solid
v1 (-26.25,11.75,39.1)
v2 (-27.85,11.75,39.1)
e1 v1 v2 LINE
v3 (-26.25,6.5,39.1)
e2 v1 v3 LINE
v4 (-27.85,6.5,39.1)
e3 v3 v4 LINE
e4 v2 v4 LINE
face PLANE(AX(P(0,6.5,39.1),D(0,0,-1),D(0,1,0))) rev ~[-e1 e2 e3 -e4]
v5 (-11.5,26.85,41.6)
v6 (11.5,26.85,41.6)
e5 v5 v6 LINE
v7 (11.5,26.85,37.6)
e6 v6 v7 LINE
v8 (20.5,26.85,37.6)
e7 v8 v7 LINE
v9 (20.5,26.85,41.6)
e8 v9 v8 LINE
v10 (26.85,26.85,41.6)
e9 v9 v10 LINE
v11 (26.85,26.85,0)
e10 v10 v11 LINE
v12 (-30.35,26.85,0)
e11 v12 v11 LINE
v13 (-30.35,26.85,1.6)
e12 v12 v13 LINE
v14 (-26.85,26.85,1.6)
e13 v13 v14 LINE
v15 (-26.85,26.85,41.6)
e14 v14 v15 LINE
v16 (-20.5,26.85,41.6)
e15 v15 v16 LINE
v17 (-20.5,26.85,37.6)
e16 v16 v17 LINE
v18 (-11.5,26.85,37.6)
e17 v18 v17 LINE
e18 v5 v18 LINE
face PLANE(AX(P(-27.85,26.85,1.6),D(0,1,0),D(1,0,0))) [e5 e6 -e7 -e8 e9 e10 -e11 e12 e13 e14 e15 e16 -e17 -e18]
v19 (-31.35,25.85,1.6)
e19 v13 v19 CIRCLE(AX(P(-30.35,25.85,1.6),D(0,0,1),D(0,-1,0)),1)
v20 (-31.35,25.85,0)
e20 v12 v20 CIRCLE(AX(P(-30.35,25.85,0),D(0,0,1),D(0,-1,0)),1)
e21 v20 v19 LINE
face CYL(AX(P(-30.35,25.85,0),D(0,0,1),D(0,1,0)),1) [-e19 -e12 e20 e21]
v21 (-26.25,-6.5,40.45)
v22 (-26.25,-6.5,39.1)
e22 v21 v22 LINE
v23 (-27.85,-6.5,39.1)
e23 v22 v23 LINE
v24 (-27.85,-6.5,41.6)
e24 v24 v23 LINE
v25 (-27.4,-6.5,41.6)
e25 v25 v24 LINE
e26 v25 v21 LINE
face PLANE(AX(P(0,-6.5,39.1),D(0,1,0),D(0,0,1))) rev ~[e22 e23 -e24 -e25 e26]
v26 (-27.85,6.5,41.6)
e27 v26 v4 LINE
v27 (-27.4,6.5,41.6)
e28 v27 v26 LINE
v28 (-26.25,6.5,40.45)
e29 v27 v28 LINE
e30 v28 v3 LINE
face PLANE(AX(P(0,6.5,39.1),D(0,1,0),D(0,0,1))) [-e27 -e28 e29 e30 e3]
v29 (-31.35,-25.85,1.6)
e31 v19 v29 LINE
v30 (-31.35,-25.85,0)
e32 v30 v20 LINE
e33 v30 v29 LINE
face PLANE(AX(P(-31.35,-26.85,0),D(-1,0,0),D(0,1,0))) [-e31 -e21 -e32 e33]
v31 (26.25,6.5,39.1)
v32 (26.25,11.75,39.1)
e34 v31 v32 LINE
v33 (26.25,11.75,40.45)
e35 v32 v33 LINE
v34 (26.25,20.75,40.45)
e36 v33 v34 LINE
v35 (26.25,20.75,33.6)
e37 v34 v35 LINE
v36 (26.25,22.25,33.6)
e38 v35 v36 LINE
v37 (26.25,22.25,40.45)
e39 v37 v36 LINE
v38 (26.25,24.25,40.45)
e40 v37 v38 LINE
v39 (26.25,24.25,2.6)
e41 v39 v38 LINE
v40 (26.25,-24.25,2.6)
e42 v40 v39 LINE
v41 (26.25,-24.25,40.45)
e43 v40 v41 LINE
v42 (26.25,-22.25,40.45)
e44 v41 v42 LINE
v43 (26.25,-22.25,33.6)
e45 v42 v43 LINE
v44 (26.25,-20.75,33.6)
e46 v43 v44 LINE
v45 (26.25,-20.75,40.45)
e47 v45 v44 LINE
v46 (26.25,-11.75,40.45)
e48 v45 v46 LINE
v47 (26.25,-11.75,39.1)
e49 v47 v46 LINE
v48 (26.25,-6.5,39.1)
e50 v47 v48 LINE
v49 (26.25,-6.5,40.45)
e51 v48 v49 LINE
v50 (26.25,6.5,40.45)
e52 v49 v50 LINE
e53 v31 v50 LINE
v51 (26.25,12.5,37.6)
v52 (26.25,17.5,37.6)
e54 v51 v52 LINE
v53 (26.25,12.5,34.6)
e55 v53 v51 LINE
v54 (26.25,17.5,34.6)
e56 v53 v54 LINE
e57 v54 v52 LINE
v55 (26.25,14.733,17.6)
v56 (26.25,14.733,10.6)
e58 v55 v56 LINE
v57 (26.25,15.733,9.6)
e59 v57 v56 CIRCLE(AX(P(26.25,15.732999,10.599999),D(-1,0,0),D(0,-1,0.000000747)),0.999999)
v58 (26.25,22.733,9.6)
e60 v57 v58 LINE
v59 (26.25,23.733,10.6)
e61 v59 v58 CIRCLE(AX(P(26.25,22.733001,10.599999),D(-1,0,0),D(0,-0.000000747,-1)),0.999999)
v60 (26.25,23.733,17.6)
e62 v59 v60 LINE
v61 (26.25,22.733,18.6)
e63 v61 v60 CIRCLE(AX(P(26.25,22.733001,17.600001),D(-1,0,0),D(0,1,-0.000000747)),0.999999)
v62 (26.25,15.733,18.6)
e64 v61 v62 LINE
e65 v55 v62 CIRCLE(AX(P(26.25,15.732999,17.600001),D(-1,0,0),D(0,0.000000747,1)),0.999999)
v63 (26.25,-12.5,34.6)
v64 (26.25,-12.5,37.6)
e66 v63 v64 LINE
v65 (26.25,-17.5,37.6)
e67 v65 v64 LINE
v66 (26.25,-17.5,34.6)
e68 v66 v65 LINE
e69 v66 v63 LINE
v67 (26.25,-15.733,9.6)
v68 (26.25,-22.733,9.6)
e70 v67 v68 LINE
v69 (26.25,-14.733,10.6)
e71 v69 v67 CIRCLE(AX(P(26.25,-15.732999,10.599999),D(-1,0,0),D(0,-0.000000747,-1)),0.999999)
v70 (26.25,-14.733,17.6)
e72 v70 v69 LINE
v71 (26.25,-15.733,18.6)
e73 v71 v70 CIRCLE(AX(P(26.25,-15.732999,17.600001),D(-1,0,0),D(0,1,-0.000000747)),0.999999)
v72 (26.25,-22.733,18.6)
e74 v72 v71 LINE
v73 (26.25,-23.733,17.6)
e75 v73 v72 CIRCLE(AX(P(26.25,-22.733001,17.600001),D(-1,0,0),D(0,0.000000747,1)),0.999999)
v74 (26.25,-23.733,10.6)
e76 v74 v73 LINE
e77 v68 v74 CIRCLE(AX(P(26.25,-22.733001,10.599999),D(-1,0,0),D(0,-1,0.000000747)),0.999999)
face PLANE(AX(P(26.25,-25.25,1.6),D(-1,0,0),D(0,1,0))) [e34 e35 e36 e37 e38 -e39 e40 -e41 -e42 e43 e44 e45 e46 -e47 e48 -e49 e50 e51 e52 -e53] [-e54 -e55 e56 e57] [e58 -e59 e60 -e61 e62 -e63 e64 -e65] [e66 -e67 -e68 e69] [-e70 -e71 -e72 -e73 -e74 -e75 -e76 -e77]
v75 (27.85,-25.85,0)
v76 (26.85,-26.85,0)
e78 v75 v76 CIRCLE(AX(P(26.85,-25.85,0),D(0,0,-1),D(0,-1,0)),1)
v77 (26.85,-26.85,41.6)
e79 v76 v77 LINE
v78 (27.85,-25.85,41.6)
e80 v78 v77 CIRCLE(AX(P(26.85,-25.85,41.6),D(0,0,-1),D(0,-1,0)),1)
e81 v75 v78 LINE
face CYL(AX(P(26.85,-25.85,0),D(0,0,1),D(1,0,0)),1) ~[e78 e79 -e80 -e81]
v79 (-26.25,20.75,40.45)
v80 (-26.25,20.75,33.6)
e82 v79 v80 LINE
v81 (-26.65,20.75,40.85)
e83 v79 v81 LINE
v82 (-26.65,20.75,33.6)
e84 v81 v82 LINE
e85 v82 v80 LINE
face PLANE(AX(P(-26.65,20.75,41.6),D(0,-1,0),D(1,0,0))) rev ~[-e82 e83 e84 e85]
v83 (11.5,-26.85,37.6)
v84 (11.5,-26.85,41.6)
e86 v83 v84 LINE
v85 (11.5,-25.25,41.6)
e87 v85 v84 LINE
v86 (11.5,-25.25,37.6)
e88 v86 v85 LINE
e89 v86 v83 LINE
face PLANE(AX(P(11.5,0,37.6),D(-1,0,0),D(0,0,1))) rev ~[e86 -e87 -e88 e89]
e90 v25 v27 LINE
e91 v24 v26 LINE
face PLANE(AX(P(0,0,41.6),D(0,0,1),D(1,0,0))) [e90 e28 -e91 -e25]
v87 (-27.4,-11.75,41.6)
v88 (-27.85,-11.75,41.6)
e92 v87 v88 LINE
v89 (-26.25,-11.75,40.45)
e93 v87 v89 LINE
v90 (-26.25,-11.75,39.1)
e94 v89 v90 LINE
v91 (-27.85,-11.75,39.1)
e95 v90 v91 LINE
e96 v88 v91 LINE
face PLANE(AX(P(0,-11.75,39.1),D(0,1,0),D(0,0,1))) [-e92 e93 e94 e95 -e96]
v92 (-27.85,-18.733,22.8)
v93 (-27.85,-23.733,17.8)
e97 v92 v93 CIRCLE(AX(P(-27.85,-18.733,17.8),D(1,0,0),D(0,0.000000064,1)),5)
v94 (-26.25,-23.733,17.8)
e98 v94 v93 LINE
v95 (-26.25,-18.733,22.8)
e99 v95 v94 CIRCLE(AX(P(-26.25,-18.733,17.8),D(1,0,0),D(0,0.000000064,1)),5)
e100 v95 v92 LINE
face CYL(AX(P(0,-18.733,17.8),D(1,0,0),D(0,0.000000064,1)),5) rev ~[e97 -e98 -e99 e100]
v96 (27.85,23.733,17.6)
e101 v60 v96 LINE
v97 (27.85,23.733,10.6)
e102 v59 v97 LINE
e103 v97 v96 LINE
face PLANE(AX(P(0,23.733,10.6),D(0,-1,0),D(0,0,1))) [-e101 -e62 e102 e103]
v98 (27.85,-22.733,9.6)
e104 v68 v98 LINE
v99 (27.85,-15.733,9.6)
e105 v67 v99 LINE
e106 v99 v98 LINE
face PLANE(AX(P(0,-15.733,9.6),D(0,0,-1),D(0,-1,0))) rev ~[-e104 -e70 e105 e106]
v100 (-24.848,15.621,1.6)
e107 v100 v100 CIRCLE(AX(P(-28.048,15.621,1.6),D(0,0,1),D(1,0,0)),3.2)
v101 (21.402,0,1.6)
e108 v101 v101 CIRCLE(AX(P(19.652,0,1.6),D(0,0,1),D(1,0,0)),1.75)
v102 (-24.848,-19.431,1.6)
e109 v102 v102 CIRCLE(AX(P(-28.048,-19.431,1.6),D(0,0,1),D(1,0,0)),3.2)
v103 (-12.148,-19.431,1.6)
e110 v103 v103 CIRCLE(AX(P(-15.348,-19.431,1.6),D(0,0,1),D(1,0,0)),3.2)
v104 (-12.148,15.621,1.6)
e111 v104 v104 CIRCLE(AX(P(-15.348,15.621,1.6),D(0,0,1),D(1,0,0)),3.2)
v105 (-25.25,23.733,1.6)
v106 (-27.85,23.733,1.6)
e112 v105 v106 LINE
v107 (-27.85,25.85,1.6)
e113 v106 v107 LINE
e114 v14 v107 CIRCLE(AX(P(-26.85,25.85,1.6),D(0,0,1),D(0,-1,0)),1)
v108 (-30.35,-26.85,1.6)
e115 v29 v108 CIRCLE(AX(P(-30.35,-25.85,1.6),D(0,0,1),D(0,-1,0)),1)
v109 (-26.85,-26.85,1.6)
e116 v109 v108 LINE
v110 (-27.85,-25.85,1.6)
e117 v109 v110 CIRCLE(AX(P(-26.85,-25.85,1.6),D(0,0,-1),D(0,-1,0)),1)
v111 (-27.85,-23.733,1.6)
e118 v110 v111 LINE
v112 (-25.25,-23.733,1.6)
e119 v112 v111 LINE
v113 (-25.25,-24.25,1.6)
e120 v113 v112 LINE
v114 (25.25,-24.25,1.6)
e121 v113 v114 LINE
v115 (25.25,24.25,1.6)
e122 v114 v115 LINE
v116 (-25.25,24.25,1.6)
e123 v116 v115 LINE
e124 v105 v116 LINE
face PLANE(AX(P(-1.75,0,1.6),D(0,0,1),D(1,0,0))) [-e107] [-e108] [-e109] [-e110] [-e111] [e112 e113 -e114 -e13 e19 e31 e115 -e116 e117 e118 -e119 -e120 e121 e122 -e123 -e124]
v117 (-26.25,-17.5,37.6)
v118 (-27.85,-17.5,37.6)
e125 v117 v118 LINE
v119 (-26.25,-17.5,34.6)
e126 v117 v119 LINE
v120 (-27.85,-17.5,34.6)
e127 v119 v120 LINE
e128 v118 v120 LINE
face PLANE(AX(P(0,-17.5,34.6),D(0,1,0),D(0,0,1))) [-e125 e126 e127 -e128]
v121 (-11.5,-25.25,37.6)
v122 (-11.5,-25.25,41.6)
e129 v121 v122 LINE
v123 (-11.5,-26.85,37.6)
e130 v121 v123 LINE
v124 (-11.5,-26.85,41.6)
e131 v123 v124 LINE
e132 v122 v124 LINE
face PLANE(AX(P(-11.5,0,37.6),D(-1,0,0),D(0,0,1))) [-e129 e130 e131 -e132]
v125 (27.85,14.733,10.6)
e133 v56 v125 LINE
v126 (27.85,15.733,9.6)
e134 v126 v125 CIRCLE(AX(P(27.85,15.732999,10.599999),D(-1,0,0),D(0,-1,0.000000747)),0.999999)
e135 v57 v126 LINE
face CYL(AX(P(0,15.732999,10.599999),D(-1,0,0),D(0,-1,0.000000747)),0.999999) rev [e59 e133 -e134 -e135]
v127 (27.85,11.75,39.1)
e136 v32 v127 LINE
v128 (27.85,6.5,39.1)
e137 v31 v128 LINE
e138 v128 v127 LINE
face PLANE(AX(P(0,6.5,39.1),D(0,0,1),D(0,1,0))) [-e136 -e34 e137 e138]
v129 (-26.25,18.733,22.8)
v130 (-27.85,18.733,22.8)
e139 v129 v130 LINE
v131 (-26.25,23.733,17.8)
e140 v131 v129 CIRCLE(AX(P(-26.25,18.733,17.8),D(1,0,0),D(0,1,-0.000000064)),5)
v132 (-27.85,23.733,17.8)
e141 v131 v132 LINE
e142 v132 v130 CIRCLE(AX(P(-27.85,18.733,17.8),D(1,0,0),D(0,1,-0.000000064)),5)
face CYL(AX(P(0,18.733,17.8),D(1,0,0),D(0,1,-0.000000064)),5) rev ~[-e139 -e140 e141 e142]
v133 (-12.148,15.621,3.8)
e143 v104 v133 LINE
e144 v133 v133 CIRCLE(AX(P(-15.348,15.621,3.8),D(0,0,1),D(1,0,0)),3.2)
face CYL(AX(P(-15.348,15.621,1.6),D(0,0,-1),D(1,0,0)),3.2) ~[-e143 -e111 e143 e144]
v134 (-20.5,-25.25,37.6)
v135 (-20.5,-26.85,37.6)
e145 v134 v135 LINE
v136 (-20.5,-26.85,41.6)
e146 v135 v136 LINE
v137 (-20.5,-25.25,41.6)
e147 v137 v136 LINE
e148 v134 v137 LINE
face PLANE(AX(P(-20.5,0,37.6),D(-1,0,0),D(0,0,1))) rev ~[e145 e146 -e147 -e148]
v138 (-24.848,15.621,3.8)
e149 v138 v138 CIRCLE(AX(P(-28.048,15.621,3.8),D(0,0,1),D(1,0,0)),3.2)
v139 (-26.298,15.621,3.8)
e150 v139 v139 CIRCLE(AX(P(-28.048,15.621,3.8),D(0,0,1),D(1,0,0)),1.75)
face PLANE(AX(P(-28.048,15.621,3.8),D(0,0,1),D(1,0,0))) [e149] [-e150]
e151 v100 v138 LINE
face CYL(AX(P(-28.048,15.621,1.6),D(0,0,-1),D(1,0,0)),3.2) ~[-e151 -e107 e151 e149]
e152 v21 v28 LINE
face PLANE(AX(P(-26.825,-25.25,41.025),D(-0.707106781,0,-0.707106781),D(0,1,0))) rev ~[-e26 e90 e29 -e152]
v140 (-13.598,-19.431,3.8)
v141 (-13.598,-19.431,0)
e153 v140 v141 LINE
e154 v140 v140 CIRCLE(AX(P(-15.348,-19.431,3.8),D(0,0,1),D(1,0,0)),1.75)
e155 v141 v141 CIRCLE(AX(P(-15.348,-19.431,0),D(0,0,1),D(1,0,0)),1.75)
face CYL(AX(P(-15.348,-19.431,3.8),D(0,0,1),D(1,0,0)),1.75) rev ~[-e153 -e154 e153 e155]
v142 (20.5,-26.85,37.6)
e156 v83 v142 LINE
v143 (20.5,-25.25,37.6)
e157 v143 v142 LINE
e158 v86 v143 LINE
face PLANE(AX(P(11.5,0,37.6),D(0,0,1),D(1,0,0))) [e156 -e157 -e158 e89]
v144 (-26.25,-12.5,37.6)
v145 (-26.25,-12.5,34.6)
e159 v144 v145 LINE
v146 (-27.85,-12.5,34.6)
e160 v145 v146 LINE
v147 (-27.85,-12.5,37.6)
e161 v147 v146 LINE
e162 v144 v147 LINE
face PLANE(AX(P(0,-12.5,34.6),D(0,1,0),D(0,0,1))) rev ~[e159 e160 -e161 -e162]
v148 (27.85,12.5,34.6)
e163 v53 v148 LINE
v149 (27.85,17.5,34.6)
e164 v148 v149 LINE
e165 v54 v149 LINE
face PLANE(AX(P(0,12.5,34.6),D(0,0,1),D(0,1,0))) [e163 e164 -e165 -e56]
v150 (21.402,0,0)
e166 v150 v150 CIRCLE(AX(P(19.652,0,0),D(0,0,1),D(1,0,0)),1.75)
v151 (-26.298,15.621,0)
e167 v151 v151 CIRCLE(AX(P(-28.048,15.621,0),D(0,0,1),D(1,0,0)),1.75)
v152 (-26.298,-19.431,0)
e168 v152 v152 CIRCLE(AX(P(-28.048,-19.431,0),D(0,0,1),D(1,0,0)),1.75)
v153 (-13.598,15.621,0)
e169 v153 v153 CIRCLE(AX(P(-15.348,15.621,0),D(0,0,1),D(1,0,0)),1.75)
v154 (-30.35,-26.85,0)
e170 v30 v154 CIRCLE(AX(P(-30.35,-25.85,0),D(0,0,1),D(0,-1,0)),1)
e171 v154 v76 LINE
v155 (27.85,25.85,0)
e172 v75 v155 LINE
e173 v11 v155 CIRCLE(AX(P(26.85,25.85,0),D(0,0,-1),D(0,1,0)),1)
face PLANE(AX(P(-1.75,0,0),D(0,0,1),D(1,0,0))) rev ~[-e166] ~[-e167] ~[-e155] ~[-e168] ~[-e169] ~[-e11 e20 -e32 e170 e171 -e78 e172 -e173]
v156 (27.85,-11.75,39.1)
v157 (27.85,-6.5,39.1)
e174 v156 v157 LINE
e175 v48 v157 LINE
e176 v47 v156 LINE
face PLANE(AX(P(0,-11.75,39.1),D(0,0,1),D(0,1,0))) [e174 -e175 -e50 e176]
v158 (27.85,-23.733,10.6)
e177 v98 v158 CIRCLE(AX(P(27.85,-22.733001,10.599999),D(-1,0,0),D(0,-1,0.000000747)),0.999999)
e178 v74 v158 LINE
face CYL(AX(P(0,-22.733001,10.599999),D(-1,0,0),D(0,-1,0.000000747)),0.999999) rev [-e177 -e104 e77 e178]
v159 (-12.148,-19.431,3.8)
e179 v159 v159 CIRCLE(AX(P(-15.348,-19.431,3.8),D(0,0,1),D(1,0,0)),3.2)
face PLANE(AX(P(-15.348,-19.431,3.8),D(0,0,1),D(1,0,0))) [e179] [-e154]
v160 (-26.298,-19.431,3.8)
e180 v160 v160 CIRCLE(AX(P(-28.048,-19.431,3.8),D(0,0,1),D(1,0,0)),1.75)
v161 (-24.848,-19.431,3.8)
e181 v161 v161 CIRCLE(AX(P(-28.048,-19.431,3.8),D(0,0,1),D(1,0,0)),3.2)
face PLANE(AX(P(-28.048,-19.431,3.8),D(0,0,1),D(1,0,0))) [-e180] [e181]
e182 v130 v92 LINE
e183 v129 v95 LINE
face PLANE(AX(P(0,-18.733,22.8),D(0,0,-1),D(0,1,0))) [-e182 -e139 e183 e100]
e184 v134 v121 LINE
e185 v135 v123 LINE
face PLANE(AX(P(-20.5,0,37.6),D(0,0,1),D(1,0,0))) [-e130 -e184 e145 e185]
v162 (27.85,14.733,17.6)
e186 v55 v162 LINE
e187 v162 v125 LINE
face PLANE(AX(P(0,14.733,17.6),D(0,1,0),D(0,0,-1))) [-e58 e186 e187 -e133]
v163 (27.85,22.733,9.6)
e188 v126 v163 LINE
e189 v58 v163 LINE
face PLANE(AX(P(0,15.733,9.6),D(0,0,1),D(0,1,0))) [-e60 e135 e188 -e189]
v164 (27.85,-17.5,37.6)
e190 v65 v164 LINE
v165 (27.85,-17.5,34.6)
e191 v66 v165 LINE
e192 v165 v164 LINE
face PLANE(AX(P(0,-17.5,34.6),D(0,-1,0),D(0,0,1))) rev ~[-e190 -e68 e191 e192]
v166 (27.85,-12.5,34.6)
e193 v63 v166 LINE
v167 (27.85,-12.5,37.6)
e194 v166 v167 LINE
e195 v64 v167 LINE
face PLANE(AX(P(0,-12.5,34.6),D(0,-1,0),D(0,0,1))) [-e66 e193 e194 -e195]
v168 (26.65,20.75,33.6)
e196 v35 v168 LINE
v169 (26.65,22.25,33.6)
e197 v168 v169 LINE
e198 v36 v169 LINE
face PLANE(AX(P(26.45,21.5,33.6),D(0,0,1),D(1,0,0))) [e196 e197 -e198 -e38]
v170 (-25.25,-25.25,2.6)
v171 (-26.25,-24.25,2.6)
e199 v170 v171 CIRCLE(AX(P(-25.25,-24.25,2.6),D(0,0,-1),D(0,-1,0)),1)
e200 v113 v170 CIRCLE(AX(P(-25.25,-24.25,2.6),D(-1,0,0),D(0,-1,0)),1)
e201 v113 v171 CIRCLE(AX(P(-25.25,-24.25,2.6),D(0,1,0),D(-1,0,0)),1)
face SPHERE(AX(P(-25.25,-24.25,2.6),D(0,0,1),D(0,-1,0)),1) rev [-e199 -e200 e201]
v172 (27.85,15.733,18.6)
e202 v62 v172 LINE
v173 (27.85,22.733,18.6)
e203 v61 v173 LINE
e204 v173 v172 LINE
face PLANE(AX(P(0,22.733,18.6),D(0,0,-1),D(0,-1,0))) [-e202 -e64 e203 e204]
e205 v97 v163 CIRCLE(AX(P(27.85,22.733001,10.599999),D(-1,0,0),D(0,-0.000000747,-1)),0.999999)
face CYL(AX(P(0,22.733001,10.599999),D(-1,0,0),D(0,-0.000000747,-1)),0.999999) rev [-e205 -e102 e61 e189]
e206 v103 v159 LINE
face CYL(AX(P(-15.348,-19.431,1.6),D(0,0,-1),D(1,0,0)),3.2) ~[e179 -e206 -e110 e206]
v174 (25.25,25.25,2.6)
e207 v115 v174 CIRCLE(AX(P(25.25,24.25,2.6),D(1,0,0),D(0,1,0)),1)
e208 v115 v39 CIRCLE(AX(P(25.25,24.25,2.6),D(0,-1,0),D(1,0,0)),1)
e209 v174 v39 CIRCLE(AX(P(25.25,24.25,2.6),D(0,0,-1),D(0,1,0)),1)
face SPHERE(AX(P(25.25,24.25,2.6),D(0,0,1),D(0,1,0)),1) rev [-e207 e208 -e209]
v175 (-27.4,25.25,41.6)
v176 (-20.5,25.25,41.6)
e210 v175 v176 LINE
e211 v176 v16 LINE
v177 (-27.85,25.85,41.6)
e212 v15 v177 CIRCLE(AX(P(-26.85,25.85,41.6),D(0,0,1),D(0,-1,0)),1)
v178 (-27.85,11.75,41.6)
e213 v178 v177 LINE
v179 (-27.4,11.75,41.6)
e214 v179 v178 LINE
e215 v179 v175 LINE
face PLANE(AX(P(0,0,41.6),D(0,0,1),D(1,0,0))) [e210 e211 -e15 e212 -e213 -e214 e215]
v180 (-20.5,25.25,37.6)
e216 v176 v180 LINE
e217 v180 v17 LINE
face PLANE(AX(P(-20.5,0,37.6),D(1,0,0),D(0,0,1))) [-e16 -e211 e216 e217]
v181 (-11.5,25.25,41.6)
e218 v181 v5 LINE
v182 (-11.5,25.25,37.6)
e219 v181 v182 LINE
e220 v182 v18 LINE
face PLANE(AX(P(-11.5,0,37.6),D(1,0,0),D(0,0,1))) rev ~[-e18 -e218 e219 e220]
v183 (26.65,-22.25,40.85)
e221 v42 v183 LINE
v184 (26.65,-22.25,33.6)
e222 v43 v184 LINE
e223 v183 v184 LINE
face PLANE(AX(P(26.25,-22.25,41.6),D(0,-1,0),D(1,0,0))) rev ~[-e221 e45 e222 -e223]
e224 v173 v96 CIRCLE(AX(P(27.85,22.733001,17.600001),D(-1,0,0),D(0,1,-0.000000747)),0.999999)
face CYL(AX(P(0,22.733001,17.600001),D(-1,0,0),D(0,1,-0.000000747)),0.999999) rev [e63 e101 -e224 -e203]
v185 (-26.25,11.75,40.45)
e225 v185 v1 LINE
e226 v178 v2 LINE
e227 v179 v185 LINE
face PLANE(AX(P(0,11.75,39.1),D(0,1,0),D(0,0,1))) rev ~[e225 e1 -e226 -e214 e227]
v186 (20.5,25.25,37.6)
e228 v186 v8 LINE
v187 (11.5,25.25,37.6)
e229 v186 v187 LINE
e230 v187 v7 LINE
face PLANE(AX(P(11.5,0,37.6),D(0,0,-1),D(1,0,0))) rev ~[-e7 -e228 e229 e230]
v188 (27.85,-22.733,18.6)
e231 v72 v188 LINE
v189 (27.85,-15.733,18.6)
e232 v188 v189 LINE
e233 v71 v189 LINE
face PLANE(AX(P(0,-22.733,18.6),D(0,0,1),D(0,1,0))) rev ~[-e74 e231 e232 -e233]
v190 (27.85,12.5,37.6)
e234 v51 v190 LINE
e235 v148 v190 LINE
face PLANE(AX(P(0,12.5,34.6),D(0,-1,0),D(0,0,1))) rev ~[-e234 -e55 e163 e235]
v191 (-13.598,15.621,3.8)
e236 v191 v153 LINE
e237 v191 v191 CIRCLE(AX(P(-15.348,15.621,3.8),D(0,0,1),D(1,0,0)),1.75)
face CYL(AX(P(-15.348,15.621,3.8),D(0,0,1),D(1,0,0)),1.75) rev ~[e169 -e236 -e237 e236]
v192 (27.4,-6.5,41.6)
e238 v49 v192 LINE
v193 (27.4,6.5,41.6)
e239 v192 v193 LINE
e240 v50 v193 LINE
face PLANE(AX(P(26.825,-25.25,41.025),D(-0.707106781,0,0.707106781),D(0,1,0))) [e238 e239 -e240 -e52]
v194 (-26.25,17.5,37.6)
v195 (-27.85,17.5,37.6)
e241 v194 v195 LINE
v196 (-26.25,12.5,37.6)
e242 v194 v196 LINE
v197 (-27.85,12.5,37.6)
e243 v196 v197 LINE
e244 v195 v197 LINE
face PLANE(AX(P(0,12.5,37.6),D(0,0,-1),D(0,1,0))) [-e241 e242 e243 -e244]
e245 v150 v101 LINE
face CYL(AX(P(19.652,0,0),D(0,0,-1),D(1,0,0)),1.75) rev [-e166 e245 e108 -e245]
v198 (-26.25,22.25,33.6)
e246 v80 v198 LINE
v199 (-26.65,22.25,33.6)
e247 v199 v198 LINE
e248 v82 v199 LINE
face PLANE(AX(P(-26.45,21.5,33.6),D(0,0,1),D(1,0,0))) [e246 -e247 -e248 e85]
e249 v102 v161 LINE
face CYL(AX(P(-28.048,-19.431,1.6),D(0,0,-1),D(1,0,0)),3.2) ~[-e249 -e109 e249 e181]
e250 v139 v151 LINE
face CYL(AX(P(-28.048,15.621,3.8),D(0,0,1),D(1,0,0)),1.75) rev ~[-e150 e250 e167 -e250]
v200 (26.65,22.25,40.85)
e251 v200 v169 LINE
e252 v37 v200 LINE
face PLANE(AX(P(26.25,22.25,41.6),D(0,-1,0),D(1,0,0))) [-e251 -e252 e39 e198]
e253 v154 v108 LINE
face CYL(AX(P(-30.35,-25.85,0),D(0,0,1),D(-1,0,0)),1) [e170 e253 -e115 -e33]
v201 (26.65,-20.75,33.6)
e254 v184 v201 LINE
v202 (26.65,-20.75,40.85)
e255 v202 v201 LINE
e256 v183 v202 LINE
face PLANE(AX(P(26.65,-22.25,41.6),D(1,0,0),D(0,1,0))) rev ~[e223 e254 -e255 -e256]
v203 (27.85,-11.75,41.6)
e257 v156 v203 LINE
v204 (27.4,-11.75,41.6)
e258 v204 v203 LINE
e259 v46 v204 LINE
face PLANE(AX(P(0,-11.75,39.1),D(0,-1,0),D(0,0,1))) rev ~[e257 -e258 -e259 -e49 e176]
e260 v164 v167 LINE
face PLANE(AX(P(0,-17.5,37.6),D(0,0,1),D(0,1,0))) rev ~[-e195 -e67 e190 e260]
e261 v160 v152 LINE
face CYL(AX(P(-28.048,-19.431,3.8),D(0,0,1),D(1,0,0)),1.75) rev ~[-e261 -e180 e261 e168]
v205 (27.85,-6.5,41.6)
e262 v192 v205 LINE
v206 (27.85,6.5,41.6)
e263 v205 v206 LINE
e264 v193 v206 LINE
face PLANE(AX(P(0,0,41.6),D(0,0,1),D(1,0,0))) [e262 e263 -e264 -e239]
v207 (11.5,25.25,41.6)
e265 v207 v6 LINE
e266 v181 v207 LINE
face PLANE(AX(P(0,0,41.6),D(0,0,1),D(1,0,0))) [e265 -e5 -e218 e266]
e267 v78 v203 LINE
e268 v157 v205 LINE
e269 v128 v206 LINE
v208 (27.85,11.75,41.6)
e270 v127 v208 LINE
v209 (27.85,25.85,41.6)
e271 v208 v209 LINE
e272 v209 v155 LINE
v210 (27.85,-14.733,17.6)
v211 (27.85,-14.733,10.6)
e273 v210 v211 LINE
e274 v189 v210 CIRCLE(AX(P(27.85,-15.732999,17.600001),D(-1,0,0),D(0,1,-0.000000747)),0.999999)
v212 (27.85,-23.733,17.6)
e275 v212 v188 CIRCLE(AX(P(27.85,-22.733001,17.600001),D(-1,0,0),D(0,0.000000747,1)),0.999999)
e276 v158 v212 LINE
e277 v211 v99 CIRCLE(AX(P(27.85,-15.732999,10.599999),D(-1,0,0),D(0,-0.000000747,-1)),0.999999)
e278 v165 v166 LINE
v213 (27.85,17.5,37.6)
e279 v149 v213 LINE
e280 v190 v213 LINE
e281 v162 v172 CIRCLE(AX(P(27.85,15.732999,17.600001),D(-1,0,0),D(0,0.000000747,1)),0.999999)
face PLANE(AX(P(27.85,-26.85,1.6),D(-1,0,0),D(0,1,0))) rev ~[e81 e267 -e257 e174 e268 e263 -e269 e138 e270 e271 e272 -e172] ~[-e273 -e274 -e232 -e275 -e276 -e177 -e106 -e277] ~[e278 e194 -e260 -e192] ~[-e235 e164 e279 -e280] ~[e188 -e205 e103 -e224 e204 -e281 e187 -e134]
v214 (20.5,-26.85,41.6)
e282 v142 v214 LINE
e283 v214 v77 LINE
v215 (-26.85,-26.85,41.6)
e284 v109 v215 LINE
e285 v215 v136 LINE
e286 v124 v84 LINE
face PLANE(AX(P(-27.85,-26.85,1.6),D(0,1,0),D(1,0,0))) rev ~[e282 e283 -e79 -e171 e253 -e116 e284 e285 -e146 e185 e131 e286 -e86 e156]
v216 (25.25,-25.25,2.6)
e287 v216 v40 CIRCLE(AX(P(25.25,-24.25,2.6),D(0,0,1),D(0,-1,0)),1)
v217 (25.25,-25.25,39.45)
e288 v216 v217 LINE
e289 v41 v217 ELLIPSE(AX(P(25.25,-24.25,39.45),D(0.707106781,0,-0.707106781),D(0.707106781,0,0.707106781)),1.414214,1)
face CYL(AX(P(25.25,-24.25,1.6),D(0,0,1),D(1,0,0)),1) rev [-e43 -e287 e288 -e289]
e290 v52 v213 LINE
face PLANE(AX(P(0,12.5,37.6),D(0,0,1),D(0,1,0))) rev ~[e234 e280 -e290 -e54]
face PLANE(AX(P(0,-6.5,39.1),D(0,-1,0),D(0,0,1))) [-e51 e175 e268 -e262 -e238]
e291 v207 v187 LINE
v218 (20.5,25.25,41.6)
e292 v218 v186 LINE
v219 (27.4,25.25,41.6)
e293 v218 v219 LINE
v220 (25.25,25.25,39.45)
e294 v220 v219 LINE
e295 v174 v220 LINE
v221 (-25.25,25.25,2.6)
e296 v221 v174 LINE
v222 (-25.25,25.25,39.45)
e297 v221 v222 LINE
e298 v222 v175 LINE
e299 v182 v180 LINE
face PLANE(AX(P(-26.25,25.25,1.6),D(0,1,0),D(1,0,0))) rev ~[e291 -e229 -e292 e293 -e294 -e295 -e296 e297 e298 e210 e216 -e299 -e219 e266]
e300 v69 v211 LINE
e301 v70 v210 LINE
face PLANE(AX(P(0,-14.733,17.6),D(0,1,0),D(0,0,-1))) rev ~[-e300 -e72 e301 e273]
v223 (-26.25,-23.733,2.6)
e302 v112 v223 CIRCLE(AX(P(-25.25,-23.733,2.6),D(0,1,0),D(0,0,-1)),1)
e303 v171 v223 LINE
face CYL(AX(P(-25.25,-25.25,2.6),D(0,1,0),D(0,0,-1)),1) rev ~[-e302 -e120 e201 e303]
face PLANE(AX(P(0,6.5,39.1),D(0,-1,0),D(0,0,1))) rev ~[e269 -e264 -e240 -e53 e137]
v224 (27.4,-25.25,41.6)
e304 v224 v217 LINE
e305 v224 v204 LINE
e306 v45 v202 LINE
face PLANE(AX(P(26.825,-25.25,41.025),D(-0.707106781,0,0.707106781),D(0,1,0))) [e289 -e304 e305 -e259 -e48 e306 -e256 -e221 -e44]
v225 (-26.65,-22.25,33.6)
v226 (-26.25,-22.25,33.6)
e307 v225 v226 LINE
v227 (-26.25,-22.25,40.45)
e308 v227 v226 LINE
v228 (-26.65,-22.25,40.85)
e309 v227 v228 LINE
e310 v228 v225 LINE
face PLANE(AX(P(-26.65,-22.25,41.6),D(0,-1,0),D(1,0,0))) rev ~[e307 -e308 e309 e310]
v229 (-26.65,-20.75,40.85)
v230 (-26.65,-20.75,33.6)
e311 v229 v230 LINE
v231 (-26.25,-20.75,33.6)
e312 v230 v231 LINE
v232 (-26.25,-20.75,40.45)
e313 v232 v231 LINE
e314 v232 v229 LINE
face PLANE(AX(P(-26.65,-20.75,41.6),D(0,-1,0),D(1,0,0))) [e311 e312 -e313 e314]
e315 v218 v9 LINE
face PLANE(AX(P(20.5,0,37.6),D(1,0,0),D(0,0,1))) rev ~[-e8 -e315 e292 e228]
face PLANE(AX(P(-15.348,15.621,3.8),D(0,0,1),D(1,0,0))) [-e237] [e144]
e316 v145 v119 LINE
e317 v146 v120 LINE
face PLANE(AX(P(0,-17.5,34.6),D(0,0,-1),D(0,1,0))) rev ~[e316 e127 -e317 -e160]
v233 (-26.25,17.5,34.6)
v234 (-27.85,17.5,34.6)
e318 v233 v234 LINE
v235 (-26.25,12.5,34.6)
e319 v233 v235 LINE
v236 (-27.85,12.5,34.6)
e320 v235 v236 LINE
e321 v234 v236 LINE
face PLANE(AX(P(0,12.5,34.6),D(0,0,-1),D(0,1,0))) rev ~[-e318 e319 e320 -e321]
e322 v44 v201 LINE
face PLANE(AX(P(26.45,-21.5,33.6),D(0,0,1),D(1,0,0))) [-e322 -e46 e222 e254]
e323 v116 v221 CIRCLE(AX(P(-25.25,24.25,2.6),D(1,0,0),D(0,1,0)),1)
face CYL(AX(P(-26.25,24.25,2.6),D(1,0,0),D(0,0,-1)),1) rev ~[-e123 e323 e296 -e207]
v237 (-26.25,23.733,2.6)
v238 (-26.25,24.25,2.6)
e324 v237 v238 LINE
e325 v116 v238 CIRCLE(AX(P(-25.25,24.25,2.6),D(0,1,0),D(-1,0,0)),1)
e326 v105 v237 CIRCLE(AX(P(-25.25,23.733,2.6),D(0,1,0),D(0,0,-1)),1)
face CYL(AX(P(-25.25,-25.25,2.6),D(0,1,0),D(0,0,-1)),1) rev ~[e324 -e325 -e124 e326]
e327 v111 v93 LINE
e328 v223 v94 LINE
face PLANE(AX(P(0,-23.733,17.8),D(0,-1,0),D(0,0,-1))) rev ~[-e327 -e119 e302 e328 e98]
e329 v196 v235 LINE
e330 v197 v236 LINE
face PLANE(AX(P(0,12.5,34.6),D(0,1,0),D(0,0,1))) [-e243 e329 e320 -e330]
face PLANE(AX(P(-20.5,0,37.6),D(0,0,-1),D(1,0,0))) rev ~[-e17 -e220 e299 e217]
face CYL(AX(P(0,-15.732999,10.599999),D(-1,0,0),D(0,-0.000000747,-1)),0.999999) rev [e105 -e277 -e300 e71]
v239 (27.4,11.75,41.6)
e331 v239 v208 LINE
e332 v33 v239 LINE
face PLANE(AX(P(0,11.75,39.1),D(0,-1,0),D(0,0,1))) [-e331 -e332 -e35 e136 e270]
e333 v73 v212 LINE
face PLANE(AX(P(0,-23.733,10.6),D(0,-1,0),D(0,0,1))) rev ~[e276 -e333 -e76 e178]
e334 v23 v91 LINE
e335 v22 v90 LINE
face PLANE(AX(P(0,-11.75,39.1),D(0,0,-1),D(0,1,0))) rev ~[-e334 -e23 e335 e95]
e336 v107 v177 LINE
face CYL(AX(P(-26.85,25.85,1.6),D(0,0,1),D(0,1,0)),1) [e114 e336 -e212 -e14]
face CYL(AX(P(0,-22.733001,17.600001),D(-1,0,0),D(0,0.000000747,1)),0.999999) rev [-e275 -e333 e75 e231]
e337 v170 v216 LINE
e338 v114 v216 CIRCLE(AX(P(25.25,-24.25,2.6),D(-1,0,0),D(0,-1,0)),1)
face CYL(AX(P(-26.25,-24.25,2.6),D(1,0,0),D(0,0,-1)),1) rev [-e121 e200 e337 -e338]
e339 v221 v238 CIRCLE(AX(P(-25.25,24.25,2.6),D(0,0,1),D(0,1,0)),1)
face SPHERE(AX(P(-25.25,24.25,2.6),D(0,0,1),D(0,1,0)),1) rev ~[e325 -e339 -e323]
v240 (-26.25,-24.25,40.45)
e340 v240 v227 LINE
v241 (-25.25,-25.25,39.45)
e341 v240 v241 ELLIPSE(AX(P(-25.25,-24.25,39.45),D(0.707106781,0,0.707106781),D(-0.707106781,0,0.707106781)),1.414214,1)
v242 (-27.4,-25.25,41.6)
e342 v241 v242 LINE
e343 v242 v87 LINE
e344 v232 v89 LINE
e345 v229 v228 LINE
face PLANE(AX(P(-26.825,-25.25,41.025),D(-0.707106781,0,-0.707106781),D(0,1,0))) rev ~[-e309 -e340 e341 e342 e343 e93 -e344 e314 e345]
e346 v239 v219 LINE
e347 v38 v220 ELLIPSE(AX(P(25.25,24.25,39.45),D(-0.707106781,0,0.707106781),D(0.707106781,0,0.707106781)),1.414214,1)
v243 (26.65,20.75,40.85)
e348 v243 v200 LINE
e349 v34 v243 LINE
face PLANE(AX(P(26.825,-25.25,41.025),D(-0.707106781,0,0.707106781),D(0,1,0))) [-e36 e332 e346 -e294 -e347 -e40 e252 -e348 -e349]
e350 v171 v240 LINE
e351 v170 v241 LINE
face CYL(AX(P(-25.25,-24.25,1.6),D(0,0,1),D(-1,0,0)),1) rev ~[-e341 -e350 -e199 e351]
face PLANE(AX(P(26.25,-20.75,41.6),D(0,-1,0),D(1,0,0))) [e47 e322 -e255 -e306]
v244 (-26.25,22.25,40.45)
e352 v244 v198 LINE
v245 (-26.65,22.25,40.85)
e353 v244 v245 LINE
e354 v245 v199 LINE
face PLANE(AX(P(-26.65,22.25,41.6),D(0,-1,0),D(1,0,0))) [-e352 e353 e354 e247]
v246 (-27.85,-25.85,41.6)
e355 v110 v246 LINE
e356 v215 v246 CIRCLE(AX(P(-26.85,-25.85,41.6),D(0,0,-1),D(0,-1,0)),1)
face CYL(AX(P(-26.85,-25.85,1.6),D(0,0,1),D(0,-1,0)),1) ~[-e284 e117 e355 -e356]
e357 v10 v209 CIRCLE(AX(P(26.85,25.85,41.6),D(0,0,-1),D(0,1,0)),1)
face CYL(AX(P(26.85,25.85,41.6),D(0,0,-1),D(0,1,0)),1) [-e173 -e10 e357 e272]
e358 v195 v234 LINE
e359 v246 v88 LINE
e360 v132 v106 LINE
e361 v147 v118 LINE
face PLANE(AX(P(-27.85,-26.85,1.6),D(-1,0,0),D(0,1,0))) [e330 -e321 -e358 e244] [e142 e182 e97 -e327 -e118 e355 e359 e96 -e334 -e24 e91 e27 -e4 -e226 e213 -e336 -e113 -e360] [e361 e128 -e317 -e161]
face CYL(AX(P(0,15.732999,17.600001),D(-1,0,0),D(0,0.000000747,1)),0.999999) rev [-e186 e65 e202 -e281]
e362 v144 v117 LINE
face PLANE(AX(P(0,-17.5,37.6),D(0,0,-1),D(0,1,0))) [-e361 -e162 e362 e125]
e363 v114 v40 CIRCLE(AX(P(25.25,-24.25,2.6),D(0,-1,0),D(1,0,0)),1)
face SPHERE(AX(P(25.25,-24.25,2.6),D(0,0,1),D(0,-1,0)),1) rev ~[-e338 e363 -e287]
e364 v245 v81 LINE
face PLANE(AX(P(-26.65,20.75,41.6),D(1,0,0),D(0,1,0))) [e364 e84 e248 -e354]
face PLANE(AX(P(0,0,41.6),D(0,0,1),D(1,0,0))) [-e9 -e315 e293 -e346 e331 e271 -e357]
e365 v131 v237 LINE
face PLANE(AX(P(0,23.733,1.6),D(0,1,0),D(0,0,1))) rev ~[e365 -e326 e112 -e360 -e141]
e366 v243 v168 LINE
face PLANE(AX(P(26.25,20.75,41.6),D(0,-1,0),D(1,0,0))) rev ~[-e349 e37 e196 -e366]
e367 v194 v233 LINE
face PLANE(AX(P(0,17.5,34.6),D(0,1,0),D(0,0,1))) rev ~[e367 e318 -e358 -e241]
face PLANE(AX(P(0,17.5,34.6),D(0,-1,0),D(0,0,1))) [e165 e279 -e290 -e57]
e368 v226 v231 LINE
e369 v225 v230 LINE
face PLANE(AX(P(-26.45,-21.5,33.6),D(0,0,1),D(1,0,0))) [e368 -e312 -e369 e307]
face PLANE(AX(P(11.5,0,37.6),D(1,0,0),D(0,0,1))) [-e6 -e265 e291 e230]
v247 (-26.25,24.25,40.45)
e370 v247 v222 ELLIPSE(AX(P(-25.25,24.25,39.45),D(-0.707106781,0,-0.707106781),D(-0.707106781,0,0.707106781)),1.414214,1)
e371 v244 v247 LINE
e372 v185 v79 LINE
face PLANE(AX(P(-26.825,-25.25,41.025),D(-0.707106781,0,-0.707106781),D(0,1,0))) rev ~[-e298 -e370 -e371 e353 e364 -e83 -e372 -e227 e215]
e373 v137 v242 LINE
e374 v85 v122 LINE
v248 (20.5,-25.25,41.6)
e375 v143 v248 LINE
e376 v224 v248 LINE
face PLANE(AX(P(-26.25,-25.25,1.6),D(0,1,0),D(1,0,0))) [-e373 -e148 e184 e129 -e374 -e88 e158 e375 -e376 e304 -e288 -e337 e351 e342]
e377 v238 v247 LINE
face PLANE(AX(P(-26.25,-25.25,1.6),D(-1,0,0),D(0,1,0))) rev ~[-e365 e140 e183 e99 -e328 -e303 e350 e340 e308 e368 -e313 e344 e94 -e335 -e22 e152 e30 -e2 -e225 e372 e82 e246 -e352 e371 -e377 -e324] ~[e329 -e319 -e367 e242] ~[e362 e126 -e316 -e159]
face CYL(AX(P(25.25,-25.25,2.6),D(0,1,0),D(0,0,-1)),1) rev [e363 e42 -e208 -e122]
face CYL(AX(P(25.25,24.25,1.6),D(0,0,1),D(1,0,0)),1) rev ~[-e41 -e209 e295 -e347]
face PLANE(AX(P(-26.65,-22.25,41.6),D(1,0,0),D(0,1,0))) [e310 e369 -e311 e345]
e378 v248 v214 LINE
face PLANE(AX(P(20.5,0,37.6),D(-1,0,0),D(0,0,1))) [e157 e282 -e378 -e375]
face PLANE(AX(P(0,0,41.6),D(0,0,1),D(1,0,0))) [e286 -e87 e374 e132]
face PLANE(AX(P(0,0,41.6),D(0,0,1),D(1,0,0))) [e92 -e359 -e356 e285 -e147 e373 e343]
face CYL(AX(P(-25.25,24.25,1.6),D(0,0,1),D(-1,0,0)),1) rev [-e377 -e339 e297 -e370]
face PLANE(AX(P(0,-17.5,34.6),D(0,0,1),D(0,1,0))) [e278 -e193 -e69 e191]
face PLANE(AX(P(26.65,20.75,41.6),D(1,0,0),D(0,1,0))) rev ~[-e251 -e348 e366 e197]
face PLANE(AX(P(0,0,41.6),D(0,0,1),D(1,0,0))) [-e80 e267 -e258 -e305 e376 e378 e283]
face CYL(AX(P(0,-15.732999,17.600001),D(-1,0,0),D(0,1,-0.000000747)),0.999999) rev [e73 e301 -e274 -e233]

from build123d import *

# Parameters (mm, degrees)
SKETCH034_W          = 59.2
SKETCH034_H          = 53.7
SKETCH034_R          = 1.75
PAD011_DEPTH         = 1.6
SKETCH032_W          = 55.7
SKETCH032_H          = 53.7
SKETCH032_W_2        = 52.5
SKETCH032_H_2        = 50.5
PAD010_DEPTH         = 40
CHAMFER001_SIZE      = 1.15
FILLET004_R          = 1
SKETCH033_W          = 5
SKETCH033_H          = 3
SKETCH033_W_2        = 5.25
SKETCH033_H_2        = 2.5
POCKET007_DEPTH      = 31.351
POCKET007_DEPTH_BACK = 27.851
POCKET_DEPTH         = 31.351
POCKET041_DEPTH      = 27.851
SKETCH030_W          = 9
SKETCH030_H          = 4
POCKET009_DEPTH      = 26.851
POCKET009_DEPTH_BACK = 26.851
SKETCH029_R          = 3.2
PAD009_DEPTH         = 2.2
SKETCH050_R          = 1.75
POCKET015_DEPTH      = 3.801
SKETCH036_W          = 0.4
SKETCH036_H          = 1.5
POCKET008_DEPTH      = 8


with BuildPart() as part:
    # Sketch034 → Pad011 (new body)
    with BuildSketch(Plane.XY):
        with Locations((-1.75, 0)):
            Rectangle(SKETCH034_W, SKETCH034_H)
        with Locations((19.652, 0)):
            Circle(SKETCH034_R, mode=Mode.SUBTRACT)
    extrude(amount=PAD011_DEPTH)

    # Sketch032 → Pad010 (join)
    with BuildSketch(Plane.XY.offset(1.6)):
        Rectangle(SKETCH032_W, SKETCH032_H)
        Rectangle(SKETCH032_W_2, SKETCH032_H_2, mode=Mode.SUBTRACT)
    extrude(amount=PAD010_DEPTH)

    # Chamfer001
    chamfer001_edges = [part.edges().sort_by_distance(p)[0] for p in [
        (26.25, 0, 41.6),
        (-26.25, 0, 41.6),
    ]]
    chamfer(chamfer001_edges, length=CHAMFER001_SIZE)

    # Fillet004
    fillet004_edges = [part.edges().sort_by_distance(p)[0] for p in [
        (26.25, -25.25, 21.025),
        (-26.25, -25.25, 21.025),
        (27.85, -26.85, 21.6),
        (-26.25, 25.25, 21.025),
        (-27.85, -26.85, 21.6),
        (26.25, 25.25, 21.025),
        (0, -25.25, 1.6),
        (0, 25.25, 1.6),
        (-27.85, 26.85, 21.6),
        (27.85, 26.85, 21.6),
        (-26.25, 0, 1.6),
        (26.25, 0, 1.6),
        (-31.35, -26.85, 0.8),
        (-31.35, 26.85, 0.8),
    ]]
    fillet(fillet004_edges, radius=FILLET004_R)

    # Sketch033 → Pocket007 (cut, two sides)
    with BuildSketch(Plane.YZ) as pocket007_sk:
        with Locations((-15, 36.1)):
            Rectangle(SKETCH033_W, SKETCH033_H)
        with Locations((15, 36.1)):
            Rectangle(SKETCH033_W, SKETCH033_H)
        with Locations((-9.125, 40.35)):
            Rectangle(SKETCH033_W_2, SKETCH033_H_2)
        with Locations((9.125, 40.35)):
            Rectangle(SKETCH033_W_2, SKETCH033_H_2)
    extrude(amount=-POCKET007_DEPTH, mode=Mode.SUBTRACT)
    extrude(pocket007_sk.sketch, amount=POCKET007_DEPTH_BACK, mode=Mode.SUBTRACT)

    # Sketch109 → Pocket (cut, through all)
    with BuildSketch(Plane.YZ):
        with BuildLine():
            Line((-23.733, 17.8), (-23.733, 1.6))
            Line((-23.733, 1.6), (23.733, 1.6))
            Line((23.733, 1.6), (23.733, 17.8))
            ThreePointArc((23.733, 17.8), (22.268534, 21.335534), (18.733, 22.8))
            Line((-18.733, 22.8), (18.733, 22.8))
            ThreePointArc((-18.733, 22.8), (-22.268534, 21.335534), (-23.733, 17.8))
        make_face()
    extrude(amount=-POCKET_DEPTH, mode=Mode.SUBTRACT)

    # Sketch110 → Pocket041 (cut, through all)
    with BuildSketch(Plane.YZ):
        with BuildLine():
            Line((-22.733, 18.6), (-15.733, 18.6))
            ThreePointArc((-14.733, 17.6), (-15.025893, 18.307107), (-15.733, 18.6))
            Line((-14.733, 17.6), (-14.733, 10.6))
            ThreePointArc((-15.733, 9.6), (-15.025893, 9.892893), (-14.733, 10.6))
            Line((-15.733, 9.6), (-22.733, 9.6))
            ThreePointArc((-23.733, 10.6), (-23.440107, 9.892893), (-22.733, 9.6))
            Line((-23.733, 10.6), (-23.733, 17.6))
            ThreePointArc((-22.733, 18.6), (-23.440107, 18.307107), (-23.733, 17.6))
        make_face()
        with BuildLine():
            Line((22.733, 18.6), (15.733, 18.6))
            ThreePointArc((15.733, 18.6), (15.025893, 18.307107), (14.733, 17.6))
            Line((14.733, 17.6), (14.733, 10.6))
            ThreePointArc((14.733, 10.6), (15.025893, 9.892893), (15.733, 9.6))
            Line((15.733, 9.6), (22.733, 9.6))
            ThreePointArc((22.733, 9.6), (23.440107, 9.892893), (23.733, 10.6))
            Line((23.733, 10.6), (23.733, 17.6))
            ThreePointArc((23.733, 17.6), (23.440107, 18.307107), (22.733, 18.6))
        make_face()
    extrude(amount=POCKET041_DEPTH, mode=Mode.SUBTRACT)

    # Sketch030 → Pocket009 (cut, two sides)
    with BuildSketch(Plane.XZ) as pocket009_sk:
        with Locations((-16, 39.6)):
            Rectangle(SKETCH030_W, SKETCH030_H)
        with Locations((16, 39.6)):
            Rectangle(SKETCH030_W, SKETCH030_H)
    extrude(amount=-POCKET009_DEPTH, mode=Mode.SUBTRACT)
    extrude(pocket009_sk.sketch, amount=POCKET009_DEPTH_BACK, mode=Mode.SUBTRACT)

    # Sketch029 → Pad009 (join)
    with BuildSketch(Plane.XY.offset(1.6)):
        with Locations((-28.048, 15.621)):
            Circle(SKETCH029_R)
        with Locations((-15.348, 15.621)):
            Circle(SKETCH029_R)
        with Locations((-15.348, -19.431)):
            Circle(SKETCH029_R)
        with Locations((-28.048, -19.431)):
            Circle(SKETCH029_R)
    extrude(amount=PAD009_DEPTH)

    # Sketch050 → Pocket015 (cut, through all)
    with BuildSketch(Plane.XY.offset(3.8)):
        with Locations((-28.048, 15.621)):
            Circle(SKETCH050_R)
        with Locations((-15.348, 15.621)):
            Circle(SKETCH050_R)
        with Locations((-15.348, -19.431)):
            Circle(SKETCH050_R)
        with Locations((-28.048, -19.431)):
            Circle(SKETCH050_R)
    extrude(amount=-POCKET015_DEPTH, mode=Mode.SUBTRACT)

    # Sketch036 → Pocket008 (cut)
    with BuildSketch(Plane.XY.offset(41.6)):
        with Locations((-26.45, 21.5)):
            Rectangle(SKETCH036_W, SKETCH036_H)
        with Locations((26.45, 21.5)):
            Rectangle(SKETCH036_W, SKETCH036_H)
        with Locations((-26.45, -21.5)):
            Rectangle(SKETCH036_W, SKETCH036_H)
        with Locations((26.45, -21.5)):
            Rectangle(SKETCH036_W, SKETCH036_H)
    extrude(amount=-POCKET008_DEPTH, mode=Mode.SUBTRACT)


solid = part.part
